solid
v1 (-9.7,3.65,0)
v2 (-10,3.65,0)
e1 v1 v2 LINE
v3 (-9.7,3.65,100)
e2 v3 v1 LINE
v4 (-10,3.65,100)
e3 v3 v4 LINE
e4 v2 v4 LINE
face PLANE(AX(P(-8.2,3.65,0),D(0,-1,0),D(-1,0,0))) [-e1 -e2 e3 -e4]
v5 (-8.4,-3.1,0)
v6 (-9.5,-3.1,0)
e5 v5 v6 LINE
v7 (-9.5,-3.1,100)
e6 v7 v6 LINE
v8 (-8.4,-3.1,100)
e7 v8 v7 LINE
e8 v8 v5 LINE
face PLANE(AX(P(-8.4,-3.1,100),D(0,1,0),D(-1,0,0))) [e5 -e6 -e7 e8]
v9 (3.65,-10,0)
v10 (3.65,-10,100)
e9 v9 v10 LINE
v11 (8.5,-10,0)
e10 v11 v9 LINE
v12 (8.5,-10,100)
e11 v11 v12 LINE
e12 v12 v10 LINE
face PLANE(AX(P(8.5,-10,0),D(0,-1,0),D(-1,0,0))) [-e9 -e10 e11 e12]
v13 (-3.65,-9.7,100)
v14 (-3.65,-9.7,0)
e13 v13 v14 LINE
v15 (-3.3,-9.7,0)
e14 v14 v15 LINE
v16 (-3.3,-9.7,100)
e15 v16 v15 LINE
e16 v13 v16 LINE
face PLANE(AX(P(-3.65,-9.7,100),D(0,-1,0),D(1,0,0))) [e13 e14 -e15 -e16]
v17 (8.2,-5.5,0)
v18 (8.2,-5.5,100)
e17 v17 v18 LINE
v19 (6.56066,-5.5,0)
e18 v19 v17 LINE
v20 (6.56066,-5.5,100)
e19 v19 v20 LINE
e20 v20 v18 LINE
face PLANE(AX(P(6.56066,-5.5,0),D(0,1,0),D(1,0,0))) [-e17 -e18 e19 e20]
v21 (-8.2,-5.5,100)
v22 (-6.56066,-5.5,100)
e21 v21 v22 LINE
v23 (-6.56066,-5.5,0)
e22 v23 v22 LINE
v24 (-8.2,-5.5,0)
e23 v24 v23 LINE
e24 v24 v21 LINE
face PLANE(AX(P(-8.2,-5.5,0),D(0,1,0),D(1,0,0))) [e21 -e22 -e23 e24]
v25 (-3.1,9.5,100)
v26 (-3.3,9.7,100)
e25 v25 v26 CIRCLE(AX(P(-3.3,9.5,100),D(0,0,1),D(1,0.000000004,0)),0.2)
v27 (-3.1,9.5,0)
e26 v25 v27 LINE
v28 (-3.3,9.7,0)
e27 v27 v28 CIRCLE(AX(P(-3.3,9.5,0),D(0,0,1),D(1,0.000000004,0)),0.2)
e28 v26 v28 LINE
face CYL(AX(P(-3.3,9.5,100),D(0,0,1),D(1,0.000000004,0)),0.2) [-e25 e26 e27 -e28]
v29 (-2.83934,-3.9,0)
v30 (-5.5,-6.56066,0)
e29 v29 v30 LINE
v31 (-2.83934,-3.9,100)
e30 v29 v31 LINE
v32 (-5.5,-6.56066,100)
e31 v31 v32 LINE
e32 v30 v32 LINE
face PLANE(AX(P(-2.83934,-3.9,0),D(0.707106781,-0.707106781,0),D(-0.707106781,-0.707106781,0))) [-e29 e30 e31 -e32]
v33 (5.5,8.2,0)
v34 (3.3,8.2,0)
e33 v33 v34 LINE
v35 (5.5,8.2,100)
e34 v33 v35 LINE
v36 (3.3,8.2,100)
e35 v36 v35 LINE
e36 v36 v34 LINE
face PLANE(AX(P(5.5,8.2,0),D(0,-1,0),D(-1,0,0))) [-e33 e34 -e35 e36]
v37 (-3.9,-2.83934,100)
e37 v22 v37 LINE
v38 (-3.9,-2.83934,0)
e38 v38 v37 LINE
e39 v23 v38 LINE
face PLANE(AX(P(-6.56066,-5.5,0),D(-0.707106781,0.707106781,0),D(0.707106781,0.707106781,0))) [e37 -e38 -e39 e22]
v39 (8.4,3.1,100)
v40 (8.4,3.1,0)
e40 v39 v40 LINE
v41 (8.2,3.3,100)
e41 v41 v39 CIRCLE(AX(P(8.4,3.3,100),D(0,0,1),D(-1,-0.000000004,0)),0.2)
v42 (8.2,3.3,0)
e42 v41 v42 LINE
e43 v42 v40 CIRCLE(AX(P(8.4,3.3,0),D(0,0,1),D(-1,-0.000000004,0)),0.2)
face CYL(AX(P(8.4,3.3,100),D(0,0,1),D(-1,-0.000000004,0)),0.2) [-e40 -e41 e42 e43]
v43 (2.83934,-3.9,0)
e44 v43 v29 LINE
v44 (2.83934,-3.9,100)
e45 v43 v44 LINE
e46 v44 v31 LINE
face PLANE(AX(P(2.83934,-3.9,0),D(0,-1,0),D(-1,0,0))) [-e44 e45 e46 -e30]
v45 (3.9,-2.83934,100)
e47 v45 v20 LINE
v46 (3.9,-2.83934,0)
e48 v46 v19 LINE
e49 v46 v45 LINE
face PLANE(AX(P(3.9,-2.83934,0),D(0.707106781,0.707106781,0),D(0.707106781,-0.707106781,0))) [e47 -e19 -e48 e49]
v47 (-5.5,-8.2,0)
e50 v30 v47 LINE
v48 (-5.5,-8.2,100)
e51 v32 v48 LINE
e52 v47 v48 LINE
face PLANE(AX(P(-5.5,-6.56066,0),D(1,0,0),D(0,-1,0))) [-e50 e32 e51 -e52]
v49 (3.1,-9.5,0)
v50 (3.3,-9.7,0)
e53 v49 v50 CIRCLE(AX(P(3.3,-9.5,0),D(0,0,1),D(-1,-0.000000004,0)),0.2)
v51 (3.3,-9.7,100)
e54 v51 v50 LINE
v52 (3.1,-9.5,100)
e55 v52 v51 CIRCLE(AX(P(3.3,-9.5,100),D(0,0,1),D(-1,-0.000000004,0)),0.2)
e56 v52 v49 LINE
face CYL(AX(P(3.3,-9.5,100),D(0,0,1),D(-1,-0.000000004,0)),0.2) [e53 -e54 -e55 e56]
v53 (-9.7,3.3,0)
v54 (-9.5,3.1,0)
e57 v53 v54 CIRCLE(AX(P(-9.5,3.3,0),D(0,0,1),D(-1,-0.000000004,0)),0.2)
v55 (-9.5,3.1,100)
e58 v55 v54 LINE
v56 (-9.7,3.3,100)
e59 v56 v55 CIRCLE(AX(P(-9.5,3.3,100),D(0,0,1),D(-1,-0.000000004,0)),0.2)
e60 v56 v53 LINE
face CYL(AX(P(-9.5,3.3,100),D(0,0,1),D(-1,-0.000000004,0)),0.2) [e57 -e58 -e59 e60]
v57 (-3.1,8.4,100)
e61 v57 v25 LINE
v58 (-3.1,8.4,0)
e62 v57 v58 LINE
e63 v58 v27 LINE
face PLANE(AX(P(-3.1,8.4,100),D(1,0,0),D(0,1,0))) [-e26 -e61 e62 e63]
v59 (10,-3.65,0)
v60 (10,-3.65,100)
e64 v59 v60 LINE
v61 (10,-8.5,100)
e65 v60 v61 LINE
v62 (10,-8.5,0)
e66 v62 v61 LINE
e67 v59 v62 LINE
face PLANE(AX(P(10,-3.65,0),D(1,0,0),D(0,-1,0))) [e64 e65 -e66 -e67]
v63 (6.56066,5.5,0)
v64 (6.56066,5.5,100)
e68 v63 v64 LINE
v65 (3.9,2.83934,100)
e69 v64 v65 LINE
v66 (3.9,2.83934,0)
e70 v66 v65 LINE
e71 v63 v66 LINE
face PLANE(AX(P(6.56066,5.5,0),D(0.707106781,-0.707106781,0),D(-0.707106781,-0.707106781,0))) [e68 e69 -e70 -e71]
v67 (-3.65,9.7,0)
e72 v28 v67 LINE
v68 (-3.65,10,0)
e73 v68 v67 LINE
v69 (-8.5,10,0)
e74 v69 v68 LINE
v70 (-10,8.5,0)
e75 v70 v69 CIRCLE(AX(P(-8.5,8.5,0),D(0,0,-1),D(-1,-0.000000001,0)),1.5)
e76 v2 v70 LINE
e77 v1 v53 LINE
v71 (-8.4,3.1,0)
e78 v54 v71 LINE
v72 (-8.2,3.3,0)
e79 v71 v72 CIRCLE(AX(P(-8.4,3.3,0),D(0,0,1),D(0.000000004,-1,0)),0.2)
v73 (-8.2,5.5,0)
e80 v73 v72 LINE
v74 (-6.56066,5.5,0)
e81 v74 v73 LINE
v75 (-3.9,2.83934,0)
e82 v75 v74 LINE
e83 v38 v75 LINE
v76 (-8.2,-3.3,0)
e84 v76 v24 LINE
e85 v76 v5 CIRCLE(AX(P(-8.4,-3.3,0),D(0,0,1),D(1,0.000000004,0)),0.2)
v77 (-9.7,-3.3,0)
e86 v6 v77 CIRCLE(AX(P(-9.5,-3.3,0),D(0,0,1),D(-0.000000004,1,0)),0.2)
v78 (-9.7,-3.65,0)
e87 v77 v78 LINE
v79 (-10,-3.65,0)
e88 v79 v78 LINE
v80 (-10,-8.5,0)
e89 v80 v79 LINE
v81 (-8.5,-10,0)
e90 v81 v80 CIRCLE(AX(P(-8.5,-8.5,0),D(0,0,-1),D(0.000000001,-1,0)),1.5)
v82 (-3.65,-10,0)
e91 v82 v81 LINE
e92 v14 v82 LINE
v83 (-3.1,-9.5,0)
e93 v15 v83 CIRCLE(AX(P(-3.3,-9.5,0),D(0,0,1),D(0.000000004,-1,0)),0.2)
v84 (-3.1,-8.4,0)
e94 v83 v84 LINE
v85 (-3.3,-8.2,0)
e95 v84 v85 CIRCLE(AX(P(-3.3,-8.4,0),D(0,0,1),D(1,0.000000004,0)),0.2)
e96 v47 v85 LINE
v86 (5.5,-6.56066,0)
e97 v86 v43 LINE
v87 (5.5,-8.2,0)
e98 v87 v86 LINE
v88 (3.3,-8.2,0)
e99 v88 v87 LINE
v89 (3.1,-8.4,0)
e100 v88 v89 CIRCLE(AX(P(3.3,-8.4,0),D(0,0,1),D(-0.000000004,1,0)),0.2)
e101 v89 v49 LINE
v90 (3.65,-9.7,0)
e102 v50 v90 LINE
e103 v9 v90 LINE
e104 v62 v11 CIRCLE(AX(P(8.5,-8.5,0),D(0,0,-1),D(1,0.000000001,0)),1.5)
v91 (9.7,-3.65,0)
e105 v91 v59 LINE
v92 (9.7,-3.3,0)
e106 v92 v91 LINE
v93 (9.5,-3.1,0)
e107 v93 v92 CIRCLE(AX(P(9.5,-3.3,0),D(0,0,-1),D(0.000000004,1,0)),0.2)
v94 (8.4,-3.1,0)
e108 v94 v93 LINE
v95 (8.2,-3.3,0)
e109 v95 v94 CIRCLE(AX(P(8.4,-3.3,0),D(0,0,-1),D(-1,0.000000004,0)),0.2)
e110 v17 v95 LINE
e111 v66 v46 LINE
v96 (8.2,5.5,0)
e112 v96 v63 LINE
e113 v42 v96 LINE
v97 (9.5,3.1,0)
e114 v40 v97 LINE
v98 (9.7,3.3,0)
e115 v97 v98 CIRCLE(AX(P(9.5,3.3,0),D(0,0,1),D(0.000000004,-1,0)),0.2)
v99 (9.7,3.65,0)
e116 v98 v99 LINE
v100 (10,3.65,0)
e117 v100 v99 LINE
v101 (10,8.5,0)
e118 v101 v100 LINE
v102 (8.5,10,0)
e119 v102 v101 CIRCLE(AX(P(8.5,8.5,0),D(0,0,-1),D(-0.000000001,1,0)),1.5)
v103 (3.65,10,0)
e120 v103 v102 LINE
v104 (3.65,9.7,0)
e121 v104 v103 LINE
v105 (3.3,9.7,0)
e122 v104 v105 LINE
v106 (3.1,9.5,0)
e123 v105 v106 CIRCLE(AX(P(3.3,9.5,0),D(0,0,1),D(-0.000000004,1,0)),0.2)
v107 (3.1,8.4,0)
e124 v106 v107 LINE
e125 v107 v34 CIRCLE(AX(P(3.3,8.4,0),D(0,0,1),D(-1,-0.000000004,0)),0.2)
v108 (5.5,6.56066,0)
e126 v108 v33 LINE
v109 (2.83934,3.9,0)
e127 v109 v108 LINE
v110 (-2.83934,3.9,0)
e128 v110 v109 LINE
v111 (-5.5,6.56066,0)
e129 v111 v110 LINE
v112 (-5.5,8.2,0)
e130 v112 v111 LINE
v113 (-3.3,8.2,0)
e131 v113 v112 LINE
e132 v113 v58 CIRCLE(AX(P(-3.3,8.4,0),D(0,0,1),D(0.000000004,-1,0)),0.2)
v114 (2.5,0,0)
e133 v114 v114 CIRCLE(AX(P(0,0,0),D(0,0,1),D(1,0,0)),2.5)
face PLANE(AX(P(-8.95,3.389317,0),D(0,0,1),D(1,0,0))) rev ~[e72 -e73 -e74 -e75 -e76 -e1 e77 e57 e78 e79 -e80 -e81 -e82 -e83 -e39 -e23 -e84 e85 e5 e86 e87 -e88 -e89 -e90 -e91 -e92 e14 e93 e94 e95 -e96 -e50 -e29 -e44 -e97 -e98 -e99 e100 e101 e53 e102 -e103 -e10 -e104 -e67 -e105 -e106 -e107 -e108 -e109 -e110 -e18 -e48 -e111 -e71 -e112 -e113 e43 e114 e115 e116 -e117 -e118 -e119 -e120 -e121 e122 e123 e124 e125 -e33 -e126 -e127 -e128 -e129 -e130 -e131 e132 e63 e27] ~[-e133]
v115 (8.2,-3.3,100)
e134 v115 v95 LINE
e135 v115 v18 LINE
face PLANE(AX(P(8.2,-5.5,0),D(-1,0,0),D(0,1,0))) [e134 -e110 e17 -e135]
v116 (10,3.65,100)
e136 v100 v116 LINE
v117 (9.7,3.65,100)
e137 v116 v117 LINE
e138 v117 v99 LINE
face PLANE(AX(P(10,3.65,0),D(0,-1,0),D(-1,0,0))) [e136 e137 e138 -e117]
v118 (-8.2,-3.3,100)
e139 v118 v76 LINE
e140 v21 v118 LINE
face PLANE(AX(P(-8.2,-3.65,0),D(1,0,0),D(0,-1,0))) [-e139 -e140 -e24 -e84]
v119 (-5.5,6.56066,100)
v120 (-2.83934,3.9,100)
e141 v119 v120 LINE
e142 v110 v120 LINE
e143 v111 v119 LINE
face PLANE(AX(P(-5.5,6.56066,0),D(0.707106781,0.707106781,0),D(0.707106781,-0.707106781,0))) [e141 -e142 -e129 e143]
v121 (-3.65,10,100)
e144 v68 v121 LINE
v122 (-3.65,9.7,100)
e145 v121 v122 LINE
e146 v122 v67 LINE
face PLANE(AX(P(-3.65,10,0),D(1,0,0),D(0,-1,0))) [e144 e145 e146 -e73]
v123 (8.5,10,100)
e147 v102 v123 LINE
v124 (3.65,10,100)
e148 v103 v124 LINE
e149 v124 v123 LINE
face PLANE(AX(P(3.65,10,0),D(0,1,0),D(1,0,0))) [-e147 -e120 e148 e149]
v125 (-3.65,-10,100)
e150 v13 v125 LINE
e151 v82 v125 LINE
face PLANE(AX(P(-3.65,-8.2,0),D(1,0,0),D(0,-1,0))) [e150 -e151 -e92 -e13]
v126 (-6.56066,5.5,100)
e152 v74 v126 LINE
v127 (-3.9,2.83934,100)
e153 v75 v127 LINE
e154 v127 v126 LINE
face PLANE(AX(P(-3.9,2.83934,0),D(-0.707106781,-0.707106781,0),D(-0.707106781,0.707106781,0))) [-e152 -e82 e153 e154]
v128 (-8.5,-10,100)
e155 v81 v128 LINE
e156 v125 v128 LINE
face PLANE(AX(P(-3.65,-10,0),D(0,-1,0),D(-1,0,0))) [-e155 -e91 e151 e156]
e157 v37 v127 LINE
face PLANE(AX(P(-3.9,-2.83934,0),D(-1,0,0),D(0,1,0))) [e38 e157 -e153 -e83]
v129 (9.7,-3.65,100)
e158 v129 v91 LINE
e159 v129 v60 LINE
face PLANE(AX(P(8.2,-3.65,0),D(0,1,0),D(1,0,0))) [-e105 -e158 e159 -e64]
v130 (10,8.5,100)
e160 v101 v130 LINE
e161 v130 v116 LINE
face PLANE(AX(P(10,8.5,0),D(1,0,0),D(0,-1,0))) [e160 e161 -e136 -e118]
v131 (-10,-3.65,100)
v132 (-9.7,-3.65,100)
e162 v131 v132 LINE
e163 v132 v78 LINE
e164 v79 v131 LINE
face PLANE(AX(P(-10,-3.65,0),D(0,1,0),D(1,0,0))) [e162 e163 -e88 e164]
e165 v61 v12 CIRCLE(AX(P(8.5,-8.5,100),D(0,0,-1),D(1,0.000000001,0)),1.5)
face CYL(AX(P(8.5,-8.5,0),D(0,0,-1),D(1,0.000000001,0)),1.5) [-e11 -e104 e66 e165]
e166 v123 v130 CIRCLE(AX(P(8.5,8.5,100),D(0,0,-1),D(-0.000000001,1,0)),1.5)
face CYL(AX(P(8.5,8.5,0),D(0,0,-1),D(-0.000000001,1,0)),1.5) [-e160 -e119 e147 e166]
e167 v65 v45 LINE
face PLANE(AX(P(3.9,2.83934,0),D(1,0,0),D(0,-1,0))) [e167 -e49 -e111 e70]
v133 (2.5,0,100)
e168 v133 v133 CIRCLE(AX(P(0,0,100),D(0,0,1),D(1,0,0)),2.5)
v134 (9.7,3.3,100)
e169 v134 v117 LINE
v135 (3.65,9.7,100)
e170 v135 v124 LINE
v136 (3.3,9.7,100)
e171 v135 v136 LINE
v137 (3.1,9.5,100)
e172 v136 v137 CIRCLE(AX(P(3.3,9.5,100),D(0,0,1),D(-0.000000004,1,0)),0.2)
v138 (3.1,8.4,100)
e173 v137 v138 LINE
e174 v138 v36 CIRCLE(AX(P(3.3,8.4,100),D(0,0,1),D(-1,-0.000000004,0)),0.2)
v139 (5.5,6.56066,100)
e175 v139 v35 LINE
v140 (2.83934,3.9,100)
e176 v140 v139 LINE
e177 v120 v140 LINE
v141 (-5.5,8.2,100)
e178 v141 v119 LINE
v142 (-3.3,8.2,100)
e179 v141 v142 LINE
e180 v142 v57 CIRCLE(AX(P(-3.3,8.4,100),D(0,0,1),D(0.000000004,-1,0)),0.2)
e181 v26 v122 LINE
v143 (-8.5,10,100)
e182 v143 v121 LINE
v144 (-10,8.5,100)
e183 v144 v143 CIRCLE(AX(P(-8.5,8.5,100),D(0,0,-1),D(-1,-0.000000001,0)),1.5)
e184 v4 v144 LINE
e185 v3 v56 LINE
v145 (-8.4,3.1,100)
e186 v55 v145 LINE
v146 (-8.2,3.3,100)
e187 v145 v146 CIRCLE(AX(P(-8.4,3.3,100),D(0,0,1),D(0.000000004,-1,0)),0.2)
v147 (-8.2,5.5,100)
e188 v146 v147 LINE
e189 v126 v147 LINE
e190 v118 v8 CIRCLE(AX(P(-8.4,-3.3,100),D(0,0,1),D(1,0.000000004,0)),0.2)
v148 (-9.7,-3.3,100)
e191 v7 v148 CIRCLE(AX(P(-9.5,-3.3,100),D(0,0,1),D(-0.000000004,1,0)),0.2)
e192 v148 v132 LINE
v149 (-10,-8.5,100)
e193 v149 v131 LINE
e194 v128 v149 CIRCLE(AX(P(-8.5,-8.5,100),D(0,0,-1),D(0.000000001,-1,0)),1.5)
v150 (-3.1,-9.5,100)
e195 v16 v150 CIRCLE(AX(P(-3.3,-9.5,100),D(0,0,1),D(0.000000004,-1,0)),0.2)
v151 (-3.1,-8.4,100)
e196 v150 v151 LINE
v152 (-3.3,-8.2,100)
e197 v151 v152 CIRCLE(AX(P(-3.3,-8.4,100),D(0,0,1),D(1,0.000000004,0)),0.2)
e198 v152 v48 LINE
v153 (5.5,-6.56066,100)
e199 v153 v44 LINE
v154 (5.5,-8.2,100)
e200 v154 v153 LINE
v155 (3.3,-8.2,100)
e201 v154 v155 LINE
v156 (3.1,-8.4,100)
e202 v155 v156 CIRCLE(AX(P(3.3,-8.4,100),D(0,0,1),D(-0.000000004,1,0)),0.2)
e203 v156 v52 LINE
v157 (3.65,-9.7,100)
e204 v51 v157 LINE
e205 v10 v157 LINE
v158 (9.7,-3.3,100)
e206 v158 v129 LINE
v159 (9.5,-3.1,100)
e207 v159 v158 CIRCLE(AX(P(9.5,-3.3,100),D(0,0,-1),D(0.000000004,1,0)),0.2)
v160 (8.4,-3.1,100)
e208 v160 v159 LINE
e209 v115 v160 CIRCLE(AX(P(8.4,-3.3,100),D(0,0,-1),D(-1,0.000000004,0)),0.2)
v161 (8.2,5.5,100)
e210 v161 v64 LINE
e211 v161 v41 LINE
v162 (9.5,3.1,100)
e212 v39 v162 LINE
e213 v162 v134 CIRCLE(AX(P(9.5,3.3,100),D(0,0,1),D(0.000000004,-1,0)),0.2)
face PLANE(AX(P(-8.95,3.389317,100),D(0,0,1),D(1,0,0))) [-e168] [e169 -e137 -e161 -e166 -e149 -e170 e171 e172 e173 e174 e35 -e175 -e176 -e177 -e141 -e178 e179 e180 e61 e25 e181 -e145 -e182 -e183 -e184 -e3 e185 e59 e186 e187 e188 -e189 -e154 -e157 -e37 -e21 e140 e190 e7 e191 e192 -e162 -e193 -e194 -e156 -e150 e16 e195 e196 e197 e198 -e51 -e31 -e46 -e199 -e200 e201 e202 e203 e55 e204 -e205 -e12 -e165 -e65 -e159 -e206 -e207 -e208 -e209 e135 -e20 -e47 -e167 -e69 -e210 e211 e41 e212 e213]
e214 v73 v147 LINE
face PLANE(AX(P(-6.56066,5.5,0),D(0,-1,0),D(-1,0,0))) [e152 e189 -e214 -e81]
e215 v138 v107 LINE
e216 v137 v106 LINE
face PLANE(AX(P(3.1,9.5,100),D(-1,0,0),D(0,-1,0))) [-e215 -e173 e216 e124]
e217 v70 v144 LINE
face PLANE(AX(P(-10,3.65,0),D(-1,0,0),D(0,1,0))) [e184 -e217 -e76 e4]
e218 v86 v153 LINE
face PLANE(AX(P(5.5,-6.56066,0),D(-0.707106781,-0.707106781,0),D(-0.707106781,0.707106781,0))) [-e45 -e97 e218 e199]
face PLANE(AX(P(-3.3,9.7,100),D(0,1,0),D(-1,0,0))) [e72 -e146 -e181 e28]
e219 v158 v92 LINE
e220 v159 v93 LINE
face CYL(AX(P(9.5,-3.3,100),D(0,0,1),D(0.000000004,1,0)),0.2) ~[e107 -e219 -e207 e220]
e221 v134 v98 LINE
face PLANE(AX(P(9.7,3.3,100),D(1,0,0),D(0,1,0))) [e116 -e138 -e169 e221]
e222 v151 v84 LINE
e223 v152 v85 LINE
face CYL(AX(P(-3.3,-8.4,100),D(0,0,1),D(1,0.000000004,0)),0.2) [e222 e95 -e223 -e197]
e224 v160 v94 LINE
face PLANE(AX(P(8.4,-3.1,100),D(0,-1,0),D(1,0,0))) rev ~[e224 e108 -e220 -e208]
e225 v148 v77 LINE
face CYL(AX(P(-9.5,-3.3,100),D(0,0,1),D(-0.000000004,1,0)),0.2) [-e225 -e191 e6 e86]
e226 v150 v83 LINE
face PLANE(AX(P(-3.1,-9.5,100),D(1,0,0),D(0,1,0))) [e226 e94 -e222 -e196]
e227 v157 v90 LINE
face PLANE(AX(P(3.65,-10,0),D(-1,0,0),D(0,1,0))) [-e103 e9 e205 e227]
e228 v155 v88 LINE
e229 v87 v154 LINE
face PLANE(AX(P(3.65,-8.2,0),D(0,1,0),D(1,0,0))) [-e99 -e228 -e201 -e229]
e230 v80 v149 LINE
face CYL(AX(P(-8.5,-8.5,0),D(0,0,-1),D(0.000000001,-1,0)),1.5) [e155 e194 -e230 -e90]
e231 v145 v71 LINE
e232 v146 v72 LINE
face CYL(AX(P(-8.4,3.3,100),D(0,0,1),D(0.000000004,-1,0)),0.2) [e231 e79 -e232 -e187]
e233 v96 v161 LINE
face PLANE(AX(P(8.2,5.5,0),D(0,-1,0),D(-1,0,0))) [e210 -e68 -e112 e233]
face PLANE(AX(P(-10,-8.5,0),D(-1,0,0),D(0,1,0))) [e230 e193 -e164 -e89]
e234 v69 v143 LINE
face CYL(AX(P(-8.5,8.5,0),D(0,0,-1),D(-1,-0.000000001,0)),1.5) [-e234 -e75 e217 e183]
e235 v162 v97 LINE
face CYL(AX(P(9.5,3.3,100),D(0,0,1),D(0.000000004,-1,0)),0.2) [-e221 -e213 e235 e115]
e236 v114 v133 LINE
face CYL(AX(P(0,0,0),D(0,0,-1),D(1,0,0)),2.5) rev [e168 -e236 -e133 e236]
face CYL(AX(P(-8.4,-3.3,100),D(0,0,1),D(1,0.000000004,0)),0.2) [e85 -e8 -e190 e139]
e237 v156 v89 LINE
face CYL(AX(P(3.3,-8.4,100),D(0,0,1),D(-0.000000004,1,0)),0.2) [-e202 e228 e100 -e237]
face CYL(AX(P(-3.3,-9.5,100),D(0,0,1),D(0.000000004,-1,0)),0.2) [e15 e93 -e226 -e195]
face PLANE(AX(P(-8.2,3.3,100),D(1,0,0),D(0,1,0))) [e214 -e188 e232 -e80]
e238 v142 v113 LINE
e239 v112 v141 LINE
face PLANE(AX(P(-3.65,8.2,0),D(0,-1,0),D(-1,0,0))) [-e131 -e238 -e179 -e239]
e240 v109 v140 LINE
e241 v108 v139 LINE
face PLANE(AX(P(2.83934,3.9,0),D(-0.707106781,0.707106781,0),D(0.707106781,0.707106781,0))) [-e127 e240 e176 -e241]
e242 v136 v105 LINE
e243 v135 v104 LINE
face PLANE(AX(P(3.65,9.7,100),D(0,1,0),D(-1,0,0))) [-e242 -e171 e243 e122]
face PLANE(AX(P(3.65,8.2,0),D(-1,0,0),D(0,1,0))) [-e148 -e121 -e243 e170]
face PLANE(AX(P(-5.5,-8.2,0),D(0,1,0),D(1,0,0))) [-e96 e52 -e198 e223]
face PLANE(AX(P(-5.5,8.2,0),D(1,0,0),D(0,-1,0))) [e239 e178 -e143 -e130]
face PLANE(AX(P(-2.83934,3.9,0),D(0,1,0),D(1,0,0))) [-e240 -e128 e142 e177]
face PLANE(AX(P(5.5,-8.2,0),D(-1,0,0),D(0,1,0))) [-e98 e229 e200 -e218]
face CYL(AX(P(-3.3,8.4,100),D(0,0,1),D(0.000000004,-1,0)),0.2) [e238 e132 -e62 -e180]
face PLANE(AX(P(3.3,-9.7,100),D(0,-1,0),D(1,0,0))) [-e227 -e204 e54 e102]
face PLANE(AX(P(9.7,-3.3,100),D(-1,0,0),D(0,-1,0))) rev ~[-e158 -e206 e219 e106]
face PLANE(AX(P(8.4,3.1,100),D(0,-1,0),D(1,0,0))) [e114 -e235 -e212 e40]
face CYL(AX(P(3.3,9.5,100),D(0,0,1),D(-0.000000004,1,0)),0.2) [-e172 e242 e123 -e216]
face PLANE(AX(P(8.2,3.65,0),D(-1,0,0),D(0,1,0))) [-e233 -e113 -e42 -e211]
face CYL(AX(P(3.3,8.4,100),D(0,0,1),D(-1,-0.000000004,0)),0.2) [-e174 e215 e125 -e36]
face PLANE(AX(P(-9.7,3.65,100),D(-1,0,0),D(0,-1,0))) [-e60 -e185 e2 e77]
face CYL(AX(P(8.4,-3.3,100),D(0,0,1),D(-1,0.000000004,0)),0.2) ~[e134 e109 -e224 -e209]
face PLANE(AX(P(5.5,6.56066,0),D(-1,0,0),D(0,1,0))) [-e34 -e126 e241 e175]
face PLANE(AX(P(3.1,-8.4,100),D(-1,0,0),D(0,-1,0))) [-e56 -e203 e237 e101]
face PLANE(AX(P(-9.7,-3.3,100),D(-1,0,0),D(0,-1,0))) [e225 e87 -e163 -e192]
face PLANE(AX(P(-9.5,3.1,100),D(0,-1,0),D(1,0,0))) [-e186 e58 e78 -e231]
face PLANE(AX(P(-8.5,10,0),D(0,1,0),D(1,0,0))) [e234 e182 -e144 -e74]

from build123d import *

# Parameters (mm, degrees)
SKETCH_1_R      = 2.5
EXTRUDE_2_DEPTH = 100
EXTRUDE_3_DEPTH = 100


with BuildPart() as part:
    # 草图1 → 凸台-拉伸2 (new body)
    with BuildSketch(Plane.XY):
        with BuildLine():
            Line((3.65, 10), (8.5, 10))
            ThreePointArc((8.5, 10), (9.560660172, 9.560660172), (10, 8.5))
            Line((10, 8.5), (10, 3.65))
            Line((10, 3.65), (8.2, 3.65))
            Line((8.2, 3.65), (8.2, 5.5))
            Line((8.2, 5.5), (6.560660172, 5.5))
            Line((6.560660172, 5.5), (3.9, 2.839339828))
            Line((3.9, 2.839339828), (3.9, -2.839339828))
            Line((3.9, -2.839339828), (6.560660172, -5.5))
            Line((6.560660172, -5.5), (8.2, -5.5))
            Line((8.2, -5.5), (8.2, -3.65))
            Line((8.2, -3.65), (10, -3.65))
            Line((10, -3.65), (10, -8.5))
            ThreePointArc((10, -8.5), (9.560660172, -9.560660172), (8.5, -10))
            Line((8.5, -10), (3.65, -10))
            Line((3.65, -10), (3.65, -8.2))
            Line((3.65, -8.2), (5.5, -8.2))
            Line((5.5, -8.2), (5.5, -6.560660172))
            Line((5.5, -6.560660172), (2.839339828, -3.9))
            Line((2.839339828, -3.9), (-2.839339828, -3.9))
            Line((-2.839339828, -3.9), (-5.5, -6.560660172))
            Line((-5.5, -6.560660172), (-5.5, -8.2))
            Line((-5.5, -8.2), (-3.65, -8.2))
            Line((-3.65, -8.2), (-3.65, -10))
            Line((-3.65, -10), (-8.5, -10))
            ThreePointArc((-8.5, -10), (-9.560660172, -9.560660172), (-10, -8.5))
            Line((-10, -8.5), (-10, -3.65))
            Line((-10, -3.65), (-8.2, -3.65))
            Line((-8.2, -3.65), (-8.2, -5.5))
            Line((-8.2, -5.5), (-6.560660172, -5.5))
            Line((-6.560660172, -5.5), (-3.9, -2.839339828))
            Line((-3.9, -2.839339828), (-3.9, 2.839339828))
            Line((-3.9, 2.839339828), (-6.560660172, 5.5))
            Line((-6.560660172, 5.5), (-8.2, 5.5))
            Line((-8.2, 5.5), (-8.2, 3.65))
            Line((-8.2, 3.65), (-10, 3.65))
            Line((-10, 3.65), (-10, 8.5))
            ThreePointArc((-10, 8.5), (-9.560660172, 9.560660172), (-8.5, 10))
            Line((-8.5, 10), (-3.65, 10))
            Line((-3.65, 10), (-3.65, 8.2))
            Line((-3.65, 8.2), (-5.5, 8.2))
            Line((-5.5, 8.2), (-5.5, 6.560660172))
            Line((-5.5, 6.560660172), (-2.839339828, 3.9))
            Line((-2.839339828, 3.9), (2.839339828, 3.9))
            Line((2.839339828, 3.9), (5.5, 6.560660172))
            Line((5.5, 6.560660172), (5.5, 8.2))
            Line((5.5, 8.2), (3.65, 8.2))
            Line((3.65, 8.2), (3.65, 10))
        make_face()
        Circle(SKETCH_1_R, mode=Mode.SUBTRACT)
    extrude(amount=EXTRUDE_2_DEPTH)

    # 草图3 → 凸台-拉伸3 (add)
    with BuildSketch(Plane.XY.offset(100)):
        with BuildLine():
            Line((-8.2, 3.65), (-9.7, 3.65))
            Line((-9.7, 3.65), (-9.7, 3.3))
            ThreePointArc((-9.7, 3.3), (-9.641421356, 3.158578644), (-9.5, 3.1))
            Line((-9.5, 3.1), (-8.4, 3.1))
            ThreePointArc((-8.4, 3.1), (-8.258578644, 3.158578644), (-8.2, 3.3))
            Line((-8.2, 3.3), (-8.2, 3.65))
        make_face()
        with BuildLine():
            Line((-3.65, 9.7), (-3.65, 8.2))
            Line((-3.65, 8.2), (-3.3, 8.2))
            ThreePointArc((-3.3, 8.2), (-3.158578644, 8.258578644), (-3.1, 8.4))
            Line((-3.1, 8.4), (-3.1, 9.5))
            ThreePointArc((-3.1, 9.5), (-3.158578644, 9.641421356), (-3.3, 9.7))
            Line((-3.3, 9.7), (-3.65, 9.7))
        make_face()
        with BuildLine():
            Line((3.65, 8.2), (3.65, 9.7))
            Line((3.65, 9.7), (3.3, 9.7))
            ThreePointArc((3.3, 9.7), (3.158578644, 9.641421356), (3.1, 9.5))
            Line((3.1, 9.5), (3.1, 8.4))
            ThreePointArc((3.1, 8.4), (3.158578644, 8.258578644), (3.3, 8.2))
            Line((3.3, 8.2), (3.65, 8.2))
        make_face()
        with BuildLine():
            Line((9.7, 3.65), (8.2, 3.65))
            Line((8.2, 3.65), (8.2, 3.3))
            ThreePointArc((8.2, 3.3), (8.258578644, 3.158578644), (8.4, 3.1))
            Line((8.4, 3.1), (9.5, 3.1))
            ThreePointArc((9.5, 3.1), (9.641421356, 3.158578644), (9.7, 3.3))
            Line((9.7, 3.3), (9.7, 3.65))
        make_face()
        with BuildLine():
            Line((3.65, -9.7), (3.65, -8.2))
            Line((3.65, -8.2), (3.3, -8.2))
            ThreePointArc((3.3, -8.2), (3.158578644, -8.258578644), (3.1, -8.4))
            Line((3.1, -8.4), (3.1, -9.5))
            ThreePointArc((3.1, -9.5), (3.158578644, -9.641421356), (3.3, -9.7))
            Line((3.3, -9.7), (3.65, -9.7))
        make_face()
        with BuildLine():
            Line((-3.65, -8.2), (-3.65, -9.7))
            Line((-3.65, -9.7), (-3.3, -9.7))
            ThreePointArc((-3.3, -9.7), (-3.158578644, -9.641421356), (-3.1, -9.5))
            Line((-3.1, -9.5), (-3.1, -8.4))
            ThreePointArc((-3.1, -8.4), (-3.158578644, -8.258578644), (-3.3, -8.2))
            Line((-3.3, -8.2), (-3.65, -8.2))
        make_face()
        with BuildLine():
            Line((8.2, -3.65), (8.2, -3.3))
            ThreePointArc((8.2, -3.3), (8.258578644, -3.158578644), (8.4, -3.1))
            Line((8.4, -3.1), (9.5, -3.1))
            ThreePointArc((9.5, -3.1), (9.641421356, -3.158578644), (9.7, -3.3))
            Line((9.7, -3.3), (9.7, -3.65))
            Line((9.7, -3.65), (8.2, -3.65))
        make_face()
        with BuildLine():
            Line((-8.2, -3.65), (-8.2, -3.3))
            ThreePointArc((-8.2, -3.3), (-8.258578644, -3.158578644), (-8.4, -3.1))
            Line((-8.4, -3.1), (-9.5, -3.1))
            ThreePointArc((-9.5, -3.1), (-9.641421356, -3.158578644), (-9.7, -3.3))
            Line((-9.7, -3.3), (-9.7, -3.65))
            Line((-9.7, -3.65), (-8.2, -3.65))
        make_face()
    extrude(amount=-EXTRUDE_3_DEPTH)


solid = part.part
